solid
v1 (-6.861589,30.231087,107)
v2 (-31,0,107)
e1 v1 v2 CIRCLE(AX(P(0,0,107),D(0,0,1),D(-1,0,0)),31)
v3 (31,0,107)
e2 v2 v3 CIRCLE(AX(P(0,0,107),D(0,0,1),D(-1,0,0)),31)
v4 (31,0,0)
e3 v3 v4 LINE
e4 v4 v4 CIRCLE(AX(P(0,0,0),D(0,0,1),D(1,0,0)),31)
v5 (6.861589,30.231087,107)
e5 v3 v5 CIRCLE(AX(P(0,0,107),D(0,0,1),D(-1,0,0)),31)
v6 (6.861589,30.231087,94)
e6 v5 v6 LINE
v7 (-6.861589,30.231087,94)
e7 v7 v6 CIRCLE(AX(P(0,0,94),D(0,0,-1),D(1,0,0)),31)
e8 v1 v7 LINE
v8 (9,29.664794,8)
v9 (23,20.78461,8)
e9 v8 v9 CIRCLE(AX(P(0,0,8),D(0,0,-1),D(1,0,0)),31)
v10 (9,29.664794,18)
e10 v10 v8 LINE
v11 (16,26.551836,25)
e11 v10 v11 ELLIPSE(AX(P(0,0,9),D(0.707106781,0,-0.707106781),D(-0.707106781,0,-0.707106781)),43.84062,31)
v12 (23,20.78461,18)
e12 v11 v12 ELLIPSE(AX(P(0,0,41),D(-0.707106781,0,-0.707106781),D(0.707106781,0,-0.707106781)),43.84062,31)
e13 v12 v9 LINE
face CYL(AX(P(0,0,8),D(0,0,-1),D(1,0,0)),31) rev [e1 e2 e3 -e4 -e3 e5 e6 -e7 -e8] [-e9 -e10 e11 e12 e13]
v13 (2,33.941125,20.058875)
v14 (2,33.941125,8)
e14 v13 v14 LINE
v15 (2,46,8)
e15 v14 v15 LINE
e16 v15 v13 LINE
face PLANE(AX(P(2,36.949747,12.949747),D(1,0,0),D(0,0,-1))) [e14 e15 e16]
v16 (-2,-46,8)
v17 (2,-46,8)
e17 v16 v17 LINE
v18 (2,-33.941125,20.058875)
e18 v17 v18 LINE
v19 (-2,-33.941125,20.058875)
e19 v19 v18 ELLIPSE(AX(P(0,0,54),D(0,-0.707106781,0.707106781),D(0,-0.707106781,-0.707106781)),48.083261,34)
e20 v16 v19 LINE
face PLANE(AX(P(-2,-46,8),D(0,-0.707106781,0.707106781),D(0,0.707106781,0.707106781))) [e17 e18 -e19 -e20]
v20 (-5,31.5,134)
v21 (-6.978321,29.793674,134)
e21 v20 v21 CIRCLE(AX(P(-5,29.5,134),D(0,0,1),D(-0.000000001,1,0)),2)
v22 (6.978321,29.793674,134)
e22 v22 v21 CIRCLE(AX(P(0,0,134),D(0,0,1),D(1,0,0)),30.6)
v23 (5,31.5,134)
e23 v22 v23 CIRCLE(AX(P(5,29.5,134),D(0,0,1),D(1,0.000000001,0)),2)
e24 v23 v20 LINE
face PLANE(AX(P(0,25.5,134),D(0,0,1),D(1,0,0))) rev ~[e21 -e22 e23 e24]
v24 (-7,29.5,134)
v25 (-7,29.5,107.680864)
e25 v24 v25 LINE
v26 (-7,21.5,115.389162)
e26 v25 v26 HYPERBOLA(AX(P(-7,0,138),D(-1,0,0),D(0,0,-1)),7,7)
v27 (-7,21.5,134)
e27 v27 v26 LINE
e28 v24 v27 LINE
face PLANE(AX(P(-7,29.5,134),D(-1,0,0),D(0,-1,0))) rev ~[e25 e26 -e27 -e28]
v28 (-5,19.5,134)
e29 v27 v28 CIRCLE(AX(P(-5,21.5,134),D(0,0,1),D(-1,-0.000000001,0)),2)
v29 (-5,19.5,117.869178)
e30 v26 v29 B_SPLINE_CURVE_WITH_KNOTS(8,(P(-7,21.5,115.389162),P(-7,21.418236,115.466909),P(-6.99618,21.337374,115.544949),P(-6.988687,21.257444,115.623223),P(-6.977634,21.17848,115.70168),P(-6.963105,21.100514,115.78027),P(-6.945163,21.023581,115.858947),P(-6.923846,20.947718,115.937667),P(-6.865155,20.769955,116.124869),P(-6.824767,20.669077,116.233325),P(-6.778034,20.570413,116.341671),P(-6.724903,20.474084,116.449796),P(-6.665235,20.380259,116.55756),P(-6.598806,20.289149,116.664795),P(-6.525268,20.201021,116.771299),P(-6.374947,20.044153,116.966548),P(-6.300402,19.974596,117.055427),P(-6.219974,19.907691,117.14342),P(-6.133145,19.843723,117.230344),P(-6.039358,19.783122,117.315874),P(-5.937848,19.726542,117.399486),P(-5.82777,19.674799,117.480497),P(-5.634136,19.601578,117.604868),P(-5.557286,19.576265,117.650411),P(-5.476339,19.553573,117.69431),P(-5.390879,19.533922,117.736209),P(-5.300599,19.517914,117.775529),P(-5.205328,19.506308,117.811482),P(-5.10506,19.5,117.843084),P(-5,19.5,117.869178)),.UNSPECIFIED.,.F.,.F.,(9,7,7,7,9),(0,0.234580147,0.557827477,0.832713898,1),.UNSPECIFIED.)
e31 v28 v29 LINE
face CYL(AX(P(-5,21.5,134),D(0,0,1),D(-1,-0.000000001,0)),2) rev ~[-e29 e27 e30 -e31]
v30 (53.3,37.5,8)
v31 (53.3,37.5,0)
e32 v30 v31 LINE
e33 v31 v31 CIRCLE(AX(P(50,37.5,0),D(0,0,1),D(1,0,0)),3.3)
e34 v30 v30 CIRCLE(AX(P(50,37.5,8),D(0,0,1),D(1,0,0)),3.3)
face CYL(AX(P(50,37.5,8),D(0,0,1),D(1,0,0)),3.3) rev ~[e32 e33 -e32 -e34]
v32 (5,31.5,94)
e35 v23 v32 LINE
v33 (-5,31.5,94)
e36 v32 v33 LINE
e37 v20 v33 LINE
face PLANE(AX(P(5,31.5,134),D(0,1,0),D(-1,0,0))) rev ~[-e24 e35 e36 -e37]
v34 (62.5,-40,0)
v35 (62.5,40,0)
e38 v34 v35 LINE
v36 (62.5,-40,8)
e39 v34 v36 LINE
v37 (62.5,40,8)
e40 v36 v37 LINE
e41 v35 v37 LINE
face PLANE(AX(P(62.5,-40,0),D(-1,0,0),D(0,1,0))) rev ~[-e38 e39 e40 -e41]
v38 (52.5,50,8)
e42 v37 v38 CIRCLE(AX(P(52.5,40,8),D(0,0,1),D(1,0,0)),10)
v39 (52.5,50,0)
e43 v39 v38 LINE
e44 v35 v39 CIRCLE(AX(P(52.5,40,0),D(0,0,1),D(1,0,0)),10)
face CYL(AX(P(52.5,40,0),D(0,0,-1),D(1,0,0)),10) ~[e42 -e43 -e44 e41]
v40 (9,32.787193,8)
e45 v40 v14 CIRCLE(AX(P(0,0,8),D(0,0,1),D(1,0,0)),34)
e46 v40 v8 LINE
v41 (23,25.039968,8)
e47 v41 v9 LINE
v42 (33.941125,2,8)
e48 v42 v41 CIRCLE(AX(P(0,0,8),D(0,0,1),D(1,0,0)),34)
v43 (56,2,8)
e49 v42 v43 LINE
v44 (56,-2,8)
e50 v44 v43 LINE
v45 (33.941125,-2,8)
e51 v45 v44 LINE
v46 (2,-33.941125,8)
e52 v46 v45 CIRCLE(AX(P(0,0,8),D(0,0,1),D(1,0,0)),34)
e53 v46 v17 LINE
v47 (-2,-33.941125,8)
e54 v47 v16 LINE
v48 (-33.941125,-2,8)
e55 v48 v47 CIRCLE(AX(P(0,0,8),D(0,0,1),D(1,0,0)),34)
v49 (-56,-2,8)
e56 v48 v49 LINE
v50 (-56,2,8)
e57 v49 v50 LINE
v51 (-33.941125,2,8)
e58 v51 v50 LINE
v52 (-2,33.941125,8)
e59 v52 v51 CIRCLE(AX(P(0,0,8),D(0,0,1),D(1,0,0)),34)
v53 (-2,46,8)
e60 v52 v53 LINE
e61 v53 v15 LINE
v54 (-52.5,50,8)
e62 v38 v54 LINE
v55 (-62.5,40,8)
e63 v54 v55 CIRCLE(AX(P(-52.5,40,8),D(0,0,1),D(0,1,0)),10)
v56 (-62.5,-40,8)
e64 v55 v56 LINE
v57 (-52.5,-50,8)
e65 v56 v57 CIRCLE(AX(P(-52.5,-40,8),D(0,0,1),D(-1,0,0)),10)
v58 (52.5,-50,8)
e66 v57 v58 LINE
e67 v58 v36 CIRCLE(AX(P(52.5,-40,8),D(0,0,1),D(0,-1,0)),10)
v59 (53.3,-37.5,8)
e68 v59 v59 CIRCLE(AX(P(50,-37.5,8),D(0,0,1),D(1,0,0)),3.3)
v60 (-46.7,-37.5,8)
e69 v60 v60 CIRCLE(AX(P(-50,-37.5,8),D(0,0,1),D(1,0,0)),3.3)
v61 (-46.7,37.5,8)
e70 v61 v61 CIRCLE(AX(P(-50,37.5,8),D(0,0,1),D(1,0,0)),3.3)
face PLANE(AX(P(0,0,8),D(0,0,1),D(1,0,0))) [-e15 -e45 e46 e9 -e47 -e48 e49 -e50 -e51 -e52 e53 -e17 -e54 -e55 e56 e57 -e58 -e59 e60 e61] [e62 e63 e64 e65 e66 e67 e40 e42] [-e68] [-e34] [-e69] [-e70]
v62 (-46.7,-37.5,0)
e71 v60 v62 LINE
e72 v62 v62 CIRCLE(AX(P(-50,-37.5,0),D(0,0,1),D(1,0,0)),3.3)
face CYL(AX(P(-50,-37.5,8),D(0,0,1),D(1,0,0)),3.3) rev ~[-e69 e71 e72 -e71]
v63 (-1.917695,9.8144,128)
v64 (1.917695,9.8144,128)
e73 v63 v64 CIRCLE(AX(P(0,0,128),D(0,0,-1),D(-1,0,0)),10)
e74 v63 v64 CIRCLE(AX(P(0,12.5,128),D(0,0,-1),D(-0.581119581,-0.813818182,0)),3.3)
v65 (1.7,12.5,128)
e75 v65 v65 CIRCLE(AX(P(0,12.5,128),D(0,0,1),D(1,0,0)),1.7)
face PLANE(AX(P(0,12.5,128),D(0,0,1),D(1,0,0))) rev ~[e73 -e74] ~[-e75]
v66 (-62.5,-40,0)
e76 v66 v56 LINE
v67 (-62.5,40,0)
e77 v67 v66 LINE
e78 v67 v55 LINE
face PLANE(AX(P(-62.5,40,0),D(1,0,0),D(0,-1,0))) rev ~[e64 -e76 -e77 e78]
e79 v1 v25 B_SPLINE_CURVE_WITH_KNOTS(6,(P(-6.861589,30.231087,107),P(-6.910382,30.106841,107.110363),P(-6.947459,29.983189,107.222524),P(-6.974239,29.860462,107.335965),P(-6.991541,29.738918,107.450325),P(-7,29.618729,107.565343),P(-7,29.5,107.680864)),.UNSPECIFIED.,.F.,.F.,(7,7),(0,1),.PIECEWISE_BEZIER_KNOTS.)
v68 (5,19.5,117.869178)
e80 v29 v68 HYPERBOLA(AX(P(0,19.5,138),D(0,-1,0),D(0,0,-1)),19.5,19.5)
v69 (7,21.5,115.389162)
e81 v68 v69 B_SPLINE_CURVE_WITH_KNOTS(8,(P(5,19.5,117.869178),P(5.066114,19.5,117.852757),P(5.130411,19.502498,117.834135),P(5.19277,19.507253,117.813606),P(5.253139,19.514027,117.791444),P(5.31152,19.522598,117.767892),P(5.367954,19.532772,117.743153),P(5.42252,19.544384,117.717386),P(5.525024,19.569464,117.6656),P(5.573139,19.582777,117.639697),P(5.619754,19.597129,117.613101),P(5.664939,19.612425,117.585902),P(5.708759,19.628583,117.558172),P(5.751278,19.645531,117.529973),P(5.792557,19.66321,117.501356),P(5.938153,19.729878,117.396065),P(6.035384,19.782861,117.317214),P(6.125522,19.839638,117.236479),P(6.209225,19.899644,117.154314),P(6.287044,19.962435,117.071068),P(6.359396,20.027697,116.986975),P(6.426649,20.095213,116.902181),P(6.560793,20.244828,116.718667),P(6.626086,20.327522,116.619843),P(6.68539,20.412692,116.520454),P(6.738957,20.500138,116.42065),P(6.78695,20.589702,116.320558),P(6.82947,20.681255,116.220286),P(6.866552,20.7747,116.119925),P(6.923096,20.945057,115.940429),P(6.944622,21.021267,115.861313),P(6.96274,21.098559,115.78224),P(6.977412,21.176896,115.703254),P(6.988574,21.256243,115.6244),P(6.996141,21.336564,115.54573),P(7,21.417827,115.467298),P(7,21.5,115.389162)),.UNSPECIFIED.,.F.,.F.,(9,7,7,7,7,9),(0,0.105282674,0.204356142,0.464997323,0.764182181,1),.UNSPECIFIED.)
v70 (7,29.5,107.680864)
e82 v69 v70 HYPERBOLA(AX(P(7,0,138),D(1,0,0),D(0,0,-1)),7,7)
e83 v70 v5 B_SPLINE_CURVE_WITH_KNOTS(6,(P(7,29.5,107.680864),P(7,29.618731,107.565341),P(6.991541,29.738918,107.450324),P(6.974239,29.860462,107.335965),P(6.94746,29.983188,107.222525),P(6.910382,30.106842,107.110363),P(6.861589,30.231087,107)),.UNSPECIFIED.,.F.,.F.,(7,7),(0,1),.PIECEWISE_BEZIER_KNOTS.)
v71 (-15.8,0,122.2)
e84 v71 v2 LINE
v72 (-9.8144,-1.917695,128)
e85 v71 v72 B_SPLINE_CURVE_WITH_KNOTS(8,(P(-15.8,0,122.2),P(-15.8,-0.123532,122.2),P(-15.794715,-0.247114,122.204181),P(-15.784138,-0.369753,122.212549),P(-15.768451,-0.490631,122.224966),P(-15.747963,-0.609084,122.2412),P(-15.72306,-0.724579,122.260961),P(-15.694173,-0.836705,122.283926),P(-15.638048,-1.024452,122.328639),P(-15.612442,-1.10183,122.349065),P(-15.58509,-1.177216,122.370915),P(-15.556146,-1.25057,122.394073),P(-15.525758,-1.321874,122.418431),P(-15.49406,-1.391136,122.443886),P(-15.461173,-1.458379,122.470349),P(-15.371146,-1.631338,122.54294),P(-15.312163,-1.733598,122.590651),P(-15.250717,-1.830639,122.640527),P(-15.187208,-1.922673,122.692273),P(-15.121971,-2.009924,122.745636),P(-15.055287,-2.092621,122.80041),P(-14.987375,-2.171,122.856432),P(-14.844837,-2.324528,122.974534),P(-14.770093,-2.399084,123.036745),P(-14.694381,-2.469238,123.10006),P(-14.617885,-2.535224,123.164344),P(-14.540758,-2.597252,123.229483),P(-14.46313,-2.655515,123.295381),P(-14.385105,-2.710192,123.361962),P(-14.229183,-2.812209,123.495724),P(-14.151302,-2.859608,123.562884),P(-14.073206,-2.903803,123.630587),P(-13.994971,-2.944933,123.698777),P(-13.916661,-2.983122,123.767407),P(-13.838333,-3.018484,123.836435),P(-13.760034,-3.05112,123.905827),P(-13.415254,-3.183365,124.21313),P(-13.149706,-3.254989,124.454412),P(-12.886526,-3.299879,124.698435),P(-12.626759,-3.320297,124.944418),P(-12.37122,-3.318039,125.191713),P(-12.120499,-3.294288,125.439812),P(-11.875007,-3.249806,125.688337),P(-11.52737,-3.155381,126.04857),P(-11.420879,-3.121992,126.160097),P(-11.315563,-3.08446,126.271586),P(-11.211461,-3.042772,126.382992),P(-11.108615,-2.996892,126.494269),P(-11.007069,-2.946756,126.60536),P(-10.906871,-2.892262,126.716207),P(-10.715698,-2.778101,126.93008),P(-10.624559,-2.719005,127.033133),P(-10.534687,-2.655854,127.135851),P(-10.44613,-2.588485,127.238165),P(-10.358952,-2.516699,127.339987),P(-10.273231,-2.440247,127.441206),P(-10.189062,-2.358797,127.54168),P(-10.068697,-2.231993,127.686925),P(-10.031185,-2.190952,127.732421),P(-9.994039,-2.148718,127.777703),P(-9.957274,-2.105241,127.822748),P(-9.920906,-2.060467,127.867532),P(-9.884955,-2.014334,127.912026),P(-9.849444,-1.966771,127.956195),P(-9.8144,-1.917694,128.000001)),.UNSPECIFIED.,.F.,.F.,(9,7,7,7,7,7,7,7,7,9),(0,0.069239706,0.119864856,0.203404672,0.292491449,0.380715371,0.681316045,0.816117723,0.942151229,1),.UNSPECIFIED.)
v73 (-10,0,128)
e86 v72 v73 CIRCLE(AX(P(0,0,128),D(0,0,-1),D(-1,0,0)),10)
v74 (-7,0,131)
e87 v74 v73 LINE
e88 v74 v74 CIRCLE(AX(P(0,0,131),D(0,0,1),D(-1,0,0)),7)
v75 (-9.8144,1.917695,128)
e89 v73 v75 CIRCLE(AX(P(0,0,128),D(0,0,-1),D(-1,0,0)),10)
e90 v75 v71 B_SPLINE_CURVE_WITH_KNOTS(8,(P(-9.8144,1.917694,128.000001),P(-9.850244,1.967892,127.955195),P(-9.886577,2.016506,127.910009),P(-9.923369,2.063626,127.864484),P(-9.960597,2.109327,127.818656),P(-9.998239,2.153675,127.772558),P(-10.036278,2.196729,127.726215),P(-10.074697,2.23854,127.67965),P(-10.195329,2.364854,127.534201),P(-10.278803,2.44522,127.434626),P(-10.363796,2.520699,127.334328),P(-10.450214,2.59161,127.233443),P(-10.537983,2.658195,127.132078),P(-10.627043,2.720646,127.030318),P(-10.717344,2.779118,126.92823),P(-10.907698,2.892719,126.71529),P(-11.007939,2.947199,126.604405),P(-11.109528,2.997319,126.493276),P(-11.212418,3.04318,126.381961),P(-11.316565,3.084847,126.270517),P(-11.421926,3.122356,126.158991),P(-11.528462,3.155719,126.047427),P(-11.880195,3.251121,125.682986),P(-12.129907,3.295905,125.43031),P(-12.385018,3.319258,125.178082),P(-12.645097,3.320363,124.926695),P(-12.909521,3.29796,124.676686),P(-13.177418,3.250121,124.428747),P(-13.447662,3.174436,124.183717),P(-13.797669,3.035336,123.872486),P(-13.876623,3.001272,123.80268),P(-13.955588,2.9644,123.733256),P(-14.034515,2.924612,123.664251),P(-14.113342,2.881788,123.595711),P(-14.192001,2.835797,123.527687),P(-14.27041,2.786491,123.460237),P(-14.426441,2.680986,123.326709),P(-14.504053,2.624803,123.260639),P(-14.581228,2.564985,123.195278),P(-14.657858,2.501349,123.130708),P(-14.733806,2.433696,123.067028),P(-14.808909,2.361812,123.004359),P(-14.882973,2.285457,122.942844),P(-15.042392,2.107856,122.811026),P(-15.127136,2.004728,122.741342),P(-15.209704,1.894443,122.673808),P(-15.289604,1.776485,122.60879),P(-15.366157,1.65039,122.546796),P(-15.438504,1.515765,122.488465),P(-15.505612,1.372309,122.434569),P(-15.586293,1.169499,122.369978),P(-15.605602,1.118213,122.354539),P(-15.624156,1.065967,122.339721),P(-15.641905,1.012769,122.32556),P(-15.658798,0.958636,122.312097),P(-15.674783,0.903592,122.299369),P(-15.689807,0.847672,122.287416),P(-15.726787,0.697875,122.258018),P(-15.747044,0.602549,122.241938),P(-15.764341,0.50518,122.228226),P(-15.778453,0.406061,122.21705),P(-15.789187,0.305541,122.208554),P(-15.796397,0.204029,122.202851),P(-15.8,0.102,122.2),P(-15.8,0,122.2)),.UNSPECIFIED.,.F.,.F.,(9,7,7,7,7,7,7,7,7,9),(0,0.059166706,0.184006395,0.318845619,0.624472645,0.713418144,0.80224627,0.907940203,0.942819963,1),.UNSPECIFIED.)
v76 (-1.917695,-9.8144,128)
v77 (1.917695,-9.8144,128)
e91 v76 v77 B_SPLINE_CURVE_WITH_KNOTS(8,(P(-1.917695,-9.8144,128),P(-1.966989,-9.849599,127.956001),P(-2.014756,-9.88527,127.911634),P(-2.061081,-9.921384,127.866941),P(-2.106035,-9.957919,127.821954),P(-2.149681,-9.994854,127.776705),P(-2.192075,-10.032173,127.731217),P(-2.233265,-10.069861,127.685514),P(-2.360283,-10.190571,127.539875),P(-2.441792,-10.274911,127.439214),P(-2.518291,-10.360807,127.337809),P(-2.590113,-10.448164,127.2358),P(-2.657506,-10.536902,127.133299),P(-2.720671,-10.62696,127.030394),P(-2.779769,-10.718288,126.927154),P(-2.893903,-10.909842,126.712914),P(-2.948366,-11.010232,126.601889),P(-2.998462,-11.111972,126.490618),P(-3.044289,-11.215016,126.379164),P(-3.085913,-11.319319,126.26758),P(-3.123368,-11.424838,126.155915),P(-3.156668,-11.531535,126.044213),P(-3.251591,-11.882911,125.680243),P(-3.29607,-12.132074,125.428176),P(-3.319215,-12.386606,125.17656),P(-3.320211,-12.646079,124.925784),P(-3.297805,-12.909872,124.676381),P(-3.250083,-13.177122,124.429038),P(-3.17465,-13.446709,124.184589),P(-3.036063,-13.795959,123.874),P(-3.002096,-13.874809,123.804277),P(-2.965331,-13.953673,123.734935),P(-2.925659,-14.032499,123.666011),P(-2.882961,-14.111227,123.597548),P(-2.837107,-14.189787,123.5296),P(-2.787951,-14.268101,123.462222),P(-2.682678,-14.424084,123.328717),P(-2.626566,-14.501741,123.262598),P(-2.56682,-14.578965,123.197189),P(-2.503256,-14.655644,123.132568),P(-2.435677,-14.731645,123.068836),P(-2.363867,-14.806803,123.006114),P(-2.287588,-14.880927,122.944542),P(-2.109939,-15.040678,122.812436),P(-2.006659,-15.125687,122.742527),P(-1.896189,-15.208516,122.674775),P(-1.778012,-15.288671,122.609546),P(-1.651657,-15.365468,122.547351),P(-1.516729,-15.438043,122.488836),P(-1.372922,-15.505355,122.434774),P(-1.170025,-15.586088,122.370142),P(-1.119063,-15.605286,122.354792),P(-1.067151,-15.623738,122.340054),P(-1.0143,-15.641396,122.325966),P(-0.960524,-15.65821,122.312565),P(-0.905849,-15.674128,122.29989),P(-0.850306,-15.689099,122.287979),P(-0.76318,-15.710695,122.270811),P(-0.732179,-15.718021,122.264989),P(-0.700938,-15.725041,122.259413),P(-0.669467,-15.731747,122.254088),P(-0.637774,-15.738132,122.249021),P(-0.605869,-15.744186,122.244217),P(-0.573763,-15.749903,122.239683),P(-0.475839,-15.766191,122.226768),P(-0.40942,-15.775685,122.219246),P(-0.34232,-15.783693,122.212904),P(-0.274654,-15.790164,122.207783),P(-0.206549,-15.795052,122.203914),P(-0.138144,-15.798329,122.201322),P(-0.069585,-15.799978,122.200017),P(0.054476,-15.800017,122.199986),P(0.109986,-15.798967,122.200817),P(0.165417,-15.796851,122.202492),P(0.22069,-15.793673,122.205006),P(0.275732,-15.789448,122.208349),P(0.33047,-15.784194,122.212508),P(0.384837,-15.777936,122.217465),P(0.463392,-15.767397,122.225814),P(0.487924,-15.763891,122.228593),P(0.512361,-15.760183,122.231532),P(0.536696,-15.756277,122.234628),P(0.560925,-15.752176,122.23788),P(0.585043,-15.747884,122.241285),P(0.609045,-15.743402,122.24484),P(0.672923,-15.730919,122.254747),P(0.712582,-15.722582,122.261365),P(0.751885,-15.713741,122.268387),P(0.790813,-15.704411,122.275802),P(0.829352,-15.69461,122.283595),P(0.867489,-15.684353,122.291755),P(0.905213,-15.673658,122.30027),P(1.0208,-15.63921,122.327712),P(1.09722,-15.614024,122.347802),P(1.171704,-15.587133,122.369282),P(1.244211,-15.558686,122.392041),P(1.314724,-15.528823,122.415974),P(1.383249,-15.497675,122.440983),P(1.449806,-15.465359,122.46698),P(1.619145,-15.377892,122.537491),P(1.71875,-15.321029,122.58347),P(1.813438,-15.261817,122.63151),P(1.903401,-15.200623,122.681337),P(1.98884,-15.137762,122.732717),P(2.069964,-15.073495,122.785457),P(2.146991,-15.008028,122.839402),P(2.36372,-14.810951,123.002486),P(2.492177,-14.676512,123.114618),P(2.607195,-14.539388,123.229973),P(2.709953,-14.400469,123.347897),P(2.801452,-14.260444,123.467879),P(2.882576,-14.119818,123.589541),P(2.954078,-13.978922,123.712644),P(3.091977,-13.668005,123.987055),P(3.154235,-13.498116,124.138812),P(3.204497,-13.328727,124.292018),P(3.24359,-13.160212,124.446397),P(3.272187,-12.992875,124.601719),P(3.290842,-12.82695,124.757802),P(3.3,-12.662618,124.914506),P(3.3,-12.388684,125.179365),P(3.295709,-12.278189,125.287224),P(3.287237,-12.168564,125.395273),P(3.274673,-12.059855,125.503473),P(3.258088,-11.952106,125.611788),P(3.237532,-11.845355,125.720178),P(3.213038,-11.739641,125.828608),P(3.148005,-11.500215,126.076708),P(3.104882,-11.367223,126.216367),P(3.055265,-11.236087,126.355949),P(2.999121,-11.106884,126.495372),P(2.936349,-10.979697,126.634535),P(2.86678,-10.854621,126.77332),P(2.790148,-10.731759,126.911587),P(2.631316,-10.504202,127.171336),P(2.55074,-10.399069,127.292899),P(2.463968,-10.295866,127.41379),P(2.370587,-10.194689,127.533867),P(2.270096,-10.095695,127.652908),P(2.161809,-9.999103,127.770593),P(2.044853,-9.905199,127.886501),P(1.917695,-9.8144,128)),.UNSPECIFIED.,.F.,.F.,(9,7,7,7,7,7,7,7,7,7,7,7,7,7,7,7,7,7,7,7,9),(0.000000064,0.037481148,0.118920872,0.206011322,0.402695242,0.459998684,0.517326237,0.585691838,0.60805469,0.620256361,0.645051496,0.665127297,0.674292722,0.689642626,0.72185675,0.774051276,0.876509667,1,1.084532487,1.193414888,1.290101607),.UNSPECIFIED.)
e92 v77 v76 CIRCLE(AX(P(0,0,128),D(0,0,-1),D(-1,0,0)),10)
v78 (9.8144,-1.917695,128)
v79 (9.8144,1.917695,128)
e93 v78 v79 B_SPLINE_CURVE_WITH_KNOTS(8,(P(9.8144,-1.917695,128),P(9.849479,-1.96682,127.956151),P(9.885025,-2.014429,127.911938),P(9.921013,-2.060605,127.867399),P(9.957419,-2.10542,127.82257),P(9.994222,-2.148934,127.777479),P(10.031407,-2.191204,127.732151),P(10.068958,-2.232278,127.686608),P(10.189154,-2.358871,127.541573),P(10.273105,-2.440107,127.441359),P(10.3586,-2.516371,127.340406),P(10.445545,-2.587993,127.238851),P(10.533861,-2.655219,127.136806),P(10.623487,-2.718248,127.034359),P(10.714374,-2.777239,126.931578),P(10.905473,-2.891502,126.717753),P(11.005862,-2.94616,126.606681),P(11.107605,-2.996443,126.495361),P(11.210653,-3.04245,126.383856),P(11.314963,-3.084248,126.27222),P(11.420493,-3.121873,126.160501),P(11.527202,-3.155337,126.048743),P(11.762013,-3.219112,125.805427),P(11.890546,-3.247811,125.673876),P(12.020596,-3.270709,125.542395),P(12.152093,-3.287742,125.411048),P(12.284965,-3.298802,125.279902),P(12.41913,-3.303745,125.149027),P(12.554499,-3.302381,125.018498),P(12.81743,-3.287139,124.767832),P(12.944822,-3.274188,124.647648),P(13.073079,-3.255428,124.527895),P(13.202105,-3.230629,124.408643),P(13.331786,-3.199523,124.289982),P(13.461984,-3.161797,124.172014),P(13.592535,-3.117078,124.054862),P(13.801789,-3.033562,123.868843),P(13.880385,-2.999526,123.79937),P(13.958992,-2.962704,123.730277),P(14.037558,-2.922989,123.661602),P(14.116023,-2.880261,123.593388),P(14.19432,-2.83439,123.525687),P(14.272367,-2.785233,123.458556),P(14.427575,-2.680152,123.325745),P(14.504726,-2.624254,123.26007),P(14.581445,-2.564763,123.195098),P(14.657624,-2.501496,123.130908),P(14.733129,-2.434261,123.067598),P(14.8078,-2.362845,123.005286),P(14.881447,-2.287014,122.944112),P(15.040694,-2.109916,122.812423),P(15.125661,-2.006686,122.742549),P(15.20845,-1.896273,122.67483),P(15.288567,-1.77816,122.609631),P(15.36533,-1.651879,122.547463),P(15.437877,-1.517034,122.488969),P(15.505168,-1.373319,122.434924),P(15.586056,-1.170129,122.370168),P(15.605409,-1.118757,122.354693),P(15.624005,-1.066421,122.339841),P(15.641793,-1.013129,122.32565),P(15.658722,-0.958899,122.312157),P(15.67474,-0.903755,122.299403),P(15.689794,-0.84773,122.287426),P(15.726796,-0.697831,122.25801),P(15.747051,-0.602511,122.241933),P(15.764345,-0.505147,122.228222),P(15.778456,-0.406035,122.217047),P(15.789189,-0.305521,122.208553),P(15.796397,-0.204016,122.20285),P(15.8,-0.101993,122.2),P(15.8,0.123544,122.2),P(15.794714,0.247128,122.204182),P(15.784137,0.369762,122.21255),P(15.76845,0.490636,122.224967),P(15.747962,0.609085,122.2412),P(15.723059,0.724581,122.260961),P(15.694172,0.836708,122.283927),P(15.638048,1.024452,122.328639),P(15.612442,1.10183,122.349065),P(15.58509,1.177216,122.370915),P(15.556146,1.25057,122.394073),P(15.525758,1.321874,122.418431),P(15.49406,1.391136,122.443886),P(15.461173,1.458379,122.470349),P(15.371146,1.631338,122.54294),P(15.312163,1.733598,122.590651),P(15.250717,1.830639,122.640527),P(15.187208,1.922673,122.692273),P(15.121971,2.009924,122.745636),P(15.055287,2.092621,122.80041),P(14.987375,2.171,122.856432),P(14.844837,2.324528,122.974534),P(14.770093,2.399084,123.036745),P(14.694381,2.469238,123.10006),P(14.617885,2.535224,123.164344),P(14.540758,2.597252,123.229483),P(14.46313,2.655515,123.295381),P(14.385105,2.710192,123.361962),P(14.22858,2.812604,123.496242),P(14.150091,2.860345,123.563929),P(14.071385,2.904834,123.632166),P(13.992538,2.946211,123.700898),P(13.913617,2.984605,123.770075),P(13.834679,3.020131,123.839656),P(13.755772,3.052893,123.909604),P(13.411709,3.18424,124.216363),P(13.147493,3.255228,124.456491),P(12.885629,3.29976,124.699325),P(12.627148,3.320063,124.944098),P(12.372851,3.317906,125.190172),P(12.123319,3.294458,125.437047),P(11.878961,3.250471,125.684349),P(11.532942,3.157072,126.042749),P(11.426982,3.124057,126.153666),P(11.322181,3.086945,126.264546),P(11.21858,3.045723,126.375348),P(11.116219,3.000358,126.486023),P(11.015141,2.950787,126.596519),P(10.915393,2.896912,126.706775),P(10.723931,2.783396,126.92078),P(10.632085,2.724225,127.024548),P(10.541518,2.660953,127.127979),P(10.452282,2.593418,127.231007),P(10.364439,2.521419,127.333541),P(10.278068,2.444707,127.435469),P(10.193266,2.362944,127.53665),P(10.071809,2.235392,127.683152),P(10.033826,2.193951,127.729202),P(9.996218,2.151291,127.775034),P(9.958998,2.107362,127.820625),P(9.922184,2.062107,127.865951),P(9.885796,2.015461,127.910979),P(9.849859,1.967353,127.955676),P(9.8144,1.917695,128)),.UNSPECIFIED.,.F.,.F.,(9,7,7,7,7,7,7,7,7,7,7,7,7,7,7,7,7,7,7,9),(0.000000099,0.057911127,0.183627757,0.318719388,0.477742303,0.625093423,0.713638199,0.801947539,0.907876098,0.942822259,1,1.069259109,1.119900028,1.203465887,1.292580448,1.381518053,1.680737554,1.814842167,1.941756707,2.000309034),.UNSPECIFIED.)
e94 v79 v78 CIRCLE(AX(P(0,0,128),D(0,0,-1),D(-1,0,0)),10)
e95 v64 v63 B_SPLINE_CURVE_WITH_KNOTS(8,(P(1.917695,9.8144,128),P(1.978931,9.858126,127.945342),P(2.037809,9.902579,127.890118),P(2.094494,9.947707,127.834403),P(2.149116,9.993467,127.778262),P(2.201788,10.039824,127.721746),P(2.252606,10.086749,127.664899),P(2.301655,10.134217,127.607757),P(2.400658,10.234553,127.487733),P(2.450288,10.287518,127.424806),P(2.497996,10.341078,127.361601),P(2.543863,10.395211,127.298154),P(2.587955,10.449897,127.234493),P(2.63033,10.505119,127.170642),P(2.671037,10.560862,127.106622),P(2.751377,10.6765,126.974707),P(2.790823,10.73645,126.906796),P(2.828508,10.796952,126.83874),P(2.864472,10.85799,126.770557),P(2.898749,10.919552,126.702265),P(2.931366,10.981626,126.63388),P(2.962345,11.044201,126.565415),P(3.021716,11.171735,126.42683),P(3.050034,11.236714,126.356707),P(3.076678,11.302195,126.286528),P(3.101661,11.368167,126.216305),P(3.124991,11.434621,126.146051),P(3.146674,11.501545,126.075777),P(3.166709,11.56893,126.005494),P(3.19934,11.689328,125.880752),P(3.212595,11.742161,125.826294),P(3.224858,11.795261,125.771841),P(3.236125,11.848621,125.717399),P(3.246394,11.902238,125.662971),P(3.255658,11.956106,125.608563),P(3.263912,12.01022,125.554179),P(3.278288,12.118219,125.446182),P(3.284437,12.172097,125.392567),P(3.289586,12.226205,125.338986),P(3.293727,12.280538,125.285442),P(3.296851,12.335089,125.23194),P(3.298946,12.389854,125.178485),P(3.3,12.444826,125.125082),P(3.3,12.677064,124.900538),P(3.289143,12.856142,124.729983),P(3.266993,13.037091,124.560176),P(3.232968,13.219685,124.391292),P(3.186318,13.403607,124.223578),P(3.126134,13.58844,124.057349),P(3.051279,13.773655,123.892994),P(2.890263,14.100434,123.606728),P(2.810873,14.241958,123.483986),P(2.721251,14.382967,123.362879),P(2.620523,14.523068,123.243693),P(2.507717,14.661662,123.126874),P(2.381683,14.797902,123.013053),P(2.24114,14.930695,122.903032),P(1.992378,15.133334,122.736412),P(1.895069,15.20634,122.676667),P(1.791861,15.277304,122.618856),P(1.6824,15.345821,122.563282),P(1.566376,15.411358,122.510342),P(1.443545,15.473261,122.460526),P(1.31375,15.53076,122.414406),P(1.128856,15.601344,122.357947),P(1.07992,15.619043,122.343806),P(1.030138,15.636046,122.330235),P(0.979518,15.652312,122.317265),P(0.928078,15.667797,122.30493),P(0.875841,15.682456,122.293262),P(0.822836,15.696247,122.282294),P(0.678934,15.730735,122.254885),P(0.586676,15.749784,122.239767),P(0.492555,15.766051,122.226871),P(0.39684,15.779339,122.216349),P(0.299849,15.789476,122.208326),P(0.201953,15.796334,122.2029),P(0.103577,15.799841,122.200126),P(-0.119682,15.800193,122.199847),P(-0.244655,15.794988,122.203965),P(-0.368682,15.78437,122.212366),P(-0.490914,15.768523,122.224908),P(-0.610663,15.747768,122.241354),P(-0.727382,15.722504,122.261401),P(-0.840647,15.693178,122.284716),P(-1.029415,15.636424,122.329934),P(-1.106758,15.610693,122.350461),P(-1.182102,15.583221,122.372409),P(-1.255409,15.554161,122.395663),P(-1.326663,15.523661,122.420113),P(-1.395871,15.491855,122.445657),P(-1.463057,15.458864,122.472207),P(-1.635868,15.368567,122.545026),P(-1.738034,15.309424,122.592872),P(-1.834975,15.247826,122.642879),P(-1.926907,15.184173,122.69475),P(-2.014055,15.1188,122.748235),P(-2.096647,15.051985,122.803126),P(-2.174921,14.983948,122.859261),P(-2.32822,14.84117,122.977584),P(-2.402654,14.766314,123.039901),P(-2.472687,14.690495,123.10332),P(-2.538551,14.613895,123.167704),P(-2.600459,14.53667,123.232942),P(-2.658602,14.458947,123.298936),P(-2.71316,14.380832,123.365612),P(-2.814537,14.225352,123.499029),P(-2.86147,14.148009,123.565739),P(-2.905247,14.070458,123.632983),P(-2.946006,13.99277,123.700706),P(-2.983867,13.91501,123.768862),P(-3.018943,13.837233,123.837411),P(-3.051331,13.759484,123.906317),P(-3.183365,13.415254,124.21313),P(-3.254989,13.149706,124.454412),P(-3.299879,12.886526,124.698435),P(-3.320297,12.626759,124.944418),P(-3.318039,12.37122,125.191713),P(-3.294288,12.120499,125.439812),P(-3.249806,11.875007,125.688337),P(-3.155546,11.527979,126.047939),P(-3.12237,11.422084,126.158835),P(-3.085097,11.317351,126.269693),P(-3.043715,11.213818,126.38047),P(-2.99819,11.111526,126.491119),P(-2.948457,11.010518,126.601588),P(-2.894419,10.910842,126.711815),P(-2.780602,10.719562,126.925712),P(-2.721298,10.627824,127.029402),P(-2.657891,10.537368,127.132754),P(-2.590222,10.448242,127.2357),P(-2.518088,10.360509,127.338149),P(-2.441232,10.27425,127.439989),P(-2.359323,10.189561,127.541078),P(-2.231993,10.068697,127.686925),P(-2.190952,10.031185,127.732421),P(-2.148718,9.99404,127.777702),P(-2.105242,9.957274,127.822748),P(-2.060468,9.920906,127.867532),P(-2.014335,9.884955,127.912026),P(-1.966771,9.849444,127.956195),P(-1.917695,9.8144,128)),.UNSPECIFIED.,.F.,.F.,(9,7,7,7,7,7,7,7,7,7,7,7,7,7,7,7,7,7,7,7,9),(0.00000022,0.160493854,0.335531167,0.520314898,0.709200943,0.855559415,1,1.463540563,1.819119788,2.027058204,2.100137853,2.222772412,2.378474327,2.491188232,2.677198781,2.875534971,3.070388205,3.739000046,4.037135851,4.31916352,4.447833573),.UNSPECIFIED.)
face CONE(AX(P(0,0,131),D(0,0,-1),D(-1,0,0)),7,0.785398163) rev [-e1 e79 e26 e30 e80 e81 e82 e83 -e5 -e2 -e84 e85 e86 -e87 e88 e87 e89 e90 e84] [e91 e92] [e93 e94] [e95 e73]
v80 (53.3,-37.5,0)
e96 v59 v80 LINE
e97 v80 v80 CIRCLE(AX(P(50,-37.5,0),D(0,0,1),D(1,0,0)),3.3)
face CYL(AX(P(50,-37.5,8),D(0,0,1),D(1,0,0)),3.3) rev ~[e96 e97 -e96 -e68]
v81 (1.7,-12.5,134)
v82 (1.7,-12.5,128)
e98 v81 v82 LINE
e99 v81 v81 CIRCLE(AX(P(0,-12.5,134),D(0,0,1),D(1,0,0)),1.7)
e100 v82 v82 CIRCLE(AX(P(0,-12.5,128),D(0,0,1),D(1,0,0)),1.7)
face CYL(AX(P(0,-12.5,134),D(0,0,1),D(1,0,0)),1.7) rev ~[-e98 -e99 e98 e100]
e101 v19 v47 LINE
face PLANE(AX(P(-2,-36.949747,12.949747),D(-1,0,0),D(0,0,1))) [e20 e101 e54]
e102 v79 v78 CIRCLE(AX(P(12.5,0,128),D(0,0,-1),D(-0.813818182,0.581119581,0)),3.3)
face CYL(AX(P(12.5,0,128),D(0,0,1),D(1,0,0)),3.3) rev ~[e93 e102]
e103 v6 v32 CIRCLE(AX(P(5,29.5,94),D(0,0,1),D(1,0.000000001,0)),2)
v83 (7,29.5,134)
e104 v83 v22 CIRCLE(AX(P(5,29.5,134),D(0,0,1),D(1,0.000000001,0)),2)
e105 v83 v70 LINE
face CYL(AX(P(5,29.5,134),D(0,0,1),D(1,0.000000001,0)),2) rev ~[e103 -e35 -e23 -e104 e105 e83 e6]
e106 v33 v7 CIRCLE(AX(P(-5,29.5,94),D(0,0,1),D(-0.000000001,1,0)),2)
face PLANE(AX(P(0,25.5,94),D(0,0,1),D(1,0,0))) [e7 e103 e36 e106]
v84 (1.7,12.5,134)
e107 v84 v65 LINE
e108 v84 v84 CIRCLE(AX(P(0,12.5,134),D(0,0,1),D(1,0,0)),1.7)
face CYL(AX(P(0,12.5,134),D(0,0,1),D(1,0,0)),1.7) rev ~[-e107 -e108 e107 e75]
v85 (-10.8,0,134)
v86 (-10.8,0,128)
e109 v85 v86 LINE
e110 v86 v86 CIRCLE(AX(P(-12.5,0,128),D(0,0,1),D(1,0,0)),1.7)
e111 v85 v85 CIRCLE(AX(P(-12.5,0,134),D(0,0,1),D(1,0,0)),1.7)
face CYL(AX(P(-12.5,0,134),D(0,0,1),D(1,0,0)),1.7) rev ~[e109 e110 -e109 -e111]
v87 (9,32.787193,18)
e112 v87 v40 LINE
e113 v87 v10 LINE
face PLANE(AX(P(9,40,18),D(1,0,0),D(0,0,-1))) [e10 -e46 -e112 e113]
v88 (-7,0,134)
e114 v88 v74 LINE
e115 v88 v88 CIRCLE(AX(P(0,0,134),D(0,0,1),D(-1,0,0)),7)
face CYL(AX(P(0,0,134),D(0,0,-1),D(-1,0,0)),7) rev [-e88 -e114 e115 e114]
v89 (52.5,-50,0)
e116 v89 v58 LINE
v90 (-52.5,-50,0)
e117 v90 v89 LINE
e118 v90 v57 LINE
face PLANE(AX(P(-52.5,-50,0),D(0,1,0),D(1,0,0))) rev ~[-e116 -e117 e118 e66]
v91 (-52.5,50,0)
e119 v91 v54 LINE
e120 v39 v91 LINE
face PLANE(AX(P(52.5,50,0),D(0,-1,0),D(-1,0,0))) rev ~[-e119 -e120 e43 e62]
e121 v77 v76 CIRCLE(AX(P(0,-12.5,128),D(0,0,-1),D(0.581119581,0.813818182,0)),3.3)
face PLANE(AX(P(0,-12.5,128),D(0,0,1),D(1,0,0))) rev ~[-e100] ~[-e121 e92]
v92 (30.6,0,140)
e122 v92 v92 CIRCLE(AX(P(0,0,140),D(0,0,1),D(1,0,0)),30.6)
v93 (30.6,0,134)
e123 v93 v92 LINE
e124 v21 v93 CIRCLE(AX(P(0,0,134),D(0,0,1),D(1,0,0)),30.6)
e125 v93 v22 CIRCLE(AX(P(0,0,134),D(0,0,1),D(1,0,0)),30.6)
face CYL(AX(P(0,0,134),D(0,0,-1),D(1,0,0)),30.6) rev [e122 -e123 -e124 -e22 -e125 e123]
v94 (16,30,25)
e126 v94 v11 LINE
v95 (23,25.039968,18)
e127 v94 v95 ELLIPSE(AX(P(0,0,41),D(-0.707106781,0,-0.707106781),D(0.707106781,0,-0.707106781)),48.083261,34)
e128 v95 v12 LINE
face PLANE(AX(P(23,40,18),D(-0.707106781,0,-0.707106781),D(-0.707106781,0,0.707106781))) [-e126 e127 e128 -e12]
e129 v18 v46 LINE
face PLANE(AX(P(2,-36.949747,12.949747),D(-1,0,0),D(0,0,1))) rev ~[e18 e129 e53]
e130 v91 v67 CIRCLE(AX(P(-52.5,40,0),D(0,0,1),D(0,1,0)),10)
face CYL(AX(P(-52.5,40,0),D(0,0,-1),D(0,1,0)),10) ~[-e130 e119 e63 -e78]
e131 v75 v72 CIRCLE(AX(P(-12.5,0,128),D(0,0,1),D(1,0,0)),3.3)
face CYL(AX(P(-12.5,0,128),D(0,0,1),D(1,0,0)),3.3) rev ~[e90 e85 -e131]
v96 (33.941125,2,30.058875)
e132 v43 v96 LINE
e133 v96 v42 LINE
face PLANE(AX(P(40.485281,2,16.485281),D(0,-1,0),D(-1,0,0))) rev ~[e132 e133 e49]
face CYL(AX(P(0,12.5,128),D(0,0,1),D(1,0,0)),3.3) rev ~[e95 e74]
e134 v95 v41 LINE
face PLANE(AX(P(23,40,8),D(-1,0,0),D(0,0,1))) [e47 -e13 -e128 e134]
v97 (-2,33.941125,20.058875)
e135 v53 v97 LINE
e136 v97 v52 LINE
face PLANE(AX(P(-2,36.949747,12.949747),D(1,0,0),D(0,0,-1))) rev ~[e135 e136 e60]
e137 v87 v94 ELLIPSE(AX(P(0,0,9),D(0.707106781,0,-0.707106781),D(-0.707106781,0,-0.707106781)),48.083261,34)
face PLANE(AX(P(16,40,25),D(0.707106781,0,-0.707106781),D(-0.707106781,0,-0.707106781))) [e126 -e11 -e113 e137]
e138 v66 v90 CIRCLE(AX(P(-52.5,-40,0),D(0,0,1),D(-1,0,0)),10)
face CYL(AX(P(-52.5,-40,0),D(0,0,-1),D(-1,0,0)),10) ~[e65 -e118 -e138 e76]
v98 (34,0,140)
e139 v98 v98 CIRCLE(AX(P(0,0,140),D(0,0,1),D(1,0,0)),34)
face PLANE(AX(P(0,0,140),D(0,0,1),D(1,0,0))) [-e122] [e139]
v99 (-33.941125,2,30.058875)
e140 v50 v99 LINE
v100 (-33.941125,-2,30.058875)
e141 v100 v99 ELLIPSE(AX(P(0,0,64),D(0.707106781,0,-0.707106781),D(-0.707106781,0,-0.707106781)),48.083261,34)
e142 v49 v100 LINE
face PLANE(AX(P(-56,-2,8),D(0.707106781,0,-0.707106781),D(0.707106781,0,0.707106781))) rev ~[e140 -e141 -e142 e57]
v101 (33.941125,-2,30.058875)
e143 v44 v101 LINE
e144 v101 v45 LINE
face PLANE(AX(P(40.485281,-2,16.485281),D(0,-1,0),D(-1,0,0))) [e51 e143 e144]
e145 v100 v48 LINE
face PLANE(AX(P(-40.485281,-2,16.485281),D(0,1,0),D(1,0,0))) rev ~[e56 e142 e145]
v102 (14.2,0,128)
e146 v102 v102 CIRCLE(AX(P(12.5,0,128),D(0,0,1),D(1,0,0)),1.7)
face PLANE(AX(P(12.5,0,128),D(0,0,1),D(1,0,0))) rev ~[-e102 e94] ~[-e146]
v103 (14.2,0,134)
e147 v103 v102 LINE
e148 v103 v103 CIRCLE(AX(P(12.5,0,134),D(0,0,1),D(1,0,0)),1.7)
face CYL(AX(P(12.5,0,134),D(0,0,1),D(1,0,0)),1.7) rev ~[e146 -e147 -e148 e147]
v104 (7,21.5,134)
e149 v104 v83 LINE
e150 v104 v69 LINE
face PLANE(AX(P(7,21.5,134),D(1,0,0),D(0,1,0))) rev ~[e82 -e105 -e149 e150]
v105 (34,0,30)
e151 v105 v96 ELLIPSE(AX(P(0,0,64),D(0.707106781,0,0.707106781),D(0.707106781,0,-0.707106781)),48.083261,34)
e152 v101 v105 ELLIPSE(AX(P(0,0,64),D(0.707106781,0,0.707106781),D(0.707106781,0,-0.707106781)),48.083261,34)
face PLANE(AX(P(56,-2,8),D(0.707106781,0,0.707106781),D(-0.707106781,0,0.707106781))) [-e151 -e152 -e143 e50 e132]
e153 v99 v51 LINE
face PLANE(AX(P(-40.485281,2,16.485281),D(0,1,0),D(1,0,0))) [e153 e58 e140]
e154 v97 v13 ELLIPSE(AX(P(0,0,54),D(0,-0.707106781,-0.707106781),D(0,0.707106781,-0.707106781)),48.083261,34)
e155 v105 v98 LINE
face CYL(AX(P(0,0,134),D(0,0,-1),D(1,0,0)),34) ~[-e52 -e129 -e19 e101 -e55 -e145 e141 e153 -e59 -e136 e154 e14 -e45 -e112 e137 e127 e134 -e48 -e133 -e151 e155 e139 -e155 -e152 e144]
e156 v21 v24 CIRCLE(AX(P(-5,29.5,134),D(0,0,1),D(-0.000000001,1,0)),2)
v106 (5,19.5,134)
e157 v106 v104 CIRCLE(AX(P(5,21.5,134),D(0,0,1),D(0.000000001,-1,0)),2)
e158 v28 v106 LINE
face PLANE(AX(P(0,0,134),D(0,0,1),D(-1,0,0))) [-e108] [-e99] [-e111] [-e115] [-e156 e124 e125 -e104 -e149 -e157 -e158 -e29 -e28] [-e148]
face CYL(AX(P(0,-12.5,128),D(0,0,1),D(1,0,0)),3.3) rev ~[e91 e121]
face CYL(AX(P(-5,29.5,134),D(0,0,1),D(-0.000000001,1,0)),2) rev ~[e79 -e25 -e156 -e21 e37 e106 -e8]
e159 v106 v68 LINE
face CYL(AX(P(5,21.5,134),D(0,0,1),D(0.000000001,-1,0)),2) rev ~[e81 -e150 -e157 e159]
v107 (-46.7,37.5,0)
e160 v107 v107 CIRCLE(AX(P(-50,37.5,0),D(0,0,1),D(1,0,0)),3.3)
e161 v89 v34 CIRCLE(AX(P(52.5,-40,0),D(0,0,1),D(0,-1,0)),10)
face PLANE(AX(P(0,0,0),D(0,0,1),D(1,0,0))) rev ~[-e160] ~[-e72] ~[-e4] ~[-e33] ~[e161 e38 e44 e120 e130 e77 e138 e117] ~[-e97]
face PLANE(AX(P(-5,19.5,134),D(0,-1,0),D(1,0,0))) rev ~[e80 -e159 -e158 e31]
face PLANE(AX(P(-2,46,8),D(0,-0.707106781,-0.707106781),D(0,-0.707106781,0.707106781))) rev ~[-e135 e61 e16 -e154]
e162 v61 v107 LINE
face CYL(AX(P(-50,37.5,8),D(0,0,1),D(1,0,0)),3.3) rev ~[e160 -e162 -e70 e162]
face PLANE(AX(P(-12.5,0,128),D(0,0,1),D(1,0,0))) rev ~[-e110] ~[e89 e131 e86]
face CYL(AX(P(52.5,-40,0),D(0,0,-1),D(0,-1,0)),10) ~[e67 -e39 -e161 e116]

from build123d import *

# Parameters (mm, degrees)
SKETCH_1_R                                     = 31
FOOT_125X100_R10_T8_OPEN_D62_DEPTH             = 8
SKETCH_2_R                                     = 3.3
M6_GRID25_100X75_DEPTH                         = 8
SKETCH_3_R                                     = 34
SKETCH_3_R_2                                   = 31
HOLLOW_COLUMN_OD68_ID62_TOZ134_DEPTH           = 126
SKETCH_5_R                                     = 34
SKETCH_5_R_2                                   = 30.6
BOTTOM_CAP_WRAP_OD68_ID61P2_H6_DEPTH           = 6
STRAIGHT_TRIANGULAR_RIB_T4_NO_FILLETS_X_DEPTH  = 4
STRAIGHT_TRIANGULAR_RIB_T4_NO_FILLETS_Y_DEPTH  = 4
SKETCH_8_R                                     = 1.7
STATOR_4XM3_PCD25_THROUGH_WEB_DEPTH            = 6
SKETCH_9_R                                     = 3.3
UNDERSIDE_BOLT_AND_DRIVER_WELLS_D6P6_DEPTH     = 24
INNER_WALL_WIRE_GROOVE_W14_R2_DEPTH40_NO_DEPTH = 40
BOTTOM_REAR_OFFSET_WIRE_EXIT_14X10_45DEG_DEPTH = 25


with BuildPart() as part:
    # 草图1 → Foot_125x100_R10_T8_open_D62 (new body)
    with BuildSketch(Plane.XY):
        with BuildLine():
            Line((-52.5, -50), (52.5, -50))
            ThreePointArc((52.5, -50), (59.571067812, -47.071067812), (62.5, -40))
            Line((62.5, -40), (62.5, 40))
            ThreePointArc((62.5, 40), (59.571067812, 47.071067812), (52.5, 50))
            Line((52.5, 50), (-52.5, 50))
            ThreePointArc((-52.5, 50), (-59.571067812, 47.071067812), (-62.5, 40))
            Line((-62.5, 40), (-62.5, -40))
            ThreePointArc((-62.5, -40), (-59.571067812, -47.071067812), (-52.5, -50))
        make_face()
        Circle(SKETCH_1_R, mode=Mode.SUBTRACT)
    extrude(amount=FOOT_125X100_R10_T8_OPEN_D62_DEPTH)

    # 草图2 → M6_grid25_100x75 (cut)
    with BuildSketch(Plane.XY.offset(8)):
        with Locations((-50, -37.5)):
            Circle(SKETCH_2_R)
        with Locations((-50, 37.5)):
            Circle(SKETCH_2_R)
        with Locations((50, -37.5)):
            Circle(SKETCH_2_R)
        with Locations((50, 37.5)):
            Circle(SKETCH_2_R)
    extrude(amount=-M6_GRID25_100X75_DEPTH, mode=Mode.SUBTRACT)

    # 草图3 → Hollow_column_OD68_ID62_toZ134 (add)
    with BuildSketch(Plane.XY.offset(8)):
        Circle(SKETCH_3_R)
        Circle(SKETCH_3_R_2, mode=Mode.SUBTRACT)
    extrude(amount=HOLLOW_COLUMN_OD68_ID62_TOZ134_DEPTH)

    # 草图4 → Integral_motor_seat_45deg_internal_closure (revolve)
    with BuildSketch(Plane(origin=(0, 0, 0), x_dir=(1, 0, 0), z_dir=(0, 1, 0)), mode=Mode.PRIVATE) as integral_motor_seat_45deg_internal_closu_sk:
        Polygon((7, -131), (31, -107), (34, -107), (34, -134), (7, -134), align=None)
    revolve(integral_motor_seat_45deg_internal_closu_sk.sketch.rotate(Axis((0, 0, 0), (0, 0, 1)), 180), axis=Axis((0, 0, 0), (0, 0, 1)))

    # 草图5 → Bottom_cap_wrap_OD68_ID61p2_H6 (add)
    with BuildSketch(Plane.XY.offset(134)):
        Circle(SKETCH_5_R)
        Circle(SKETCH_5_R_2, mode=Mode.SUBTRACT)
    extrude(amount=BOTTOM_CAP_WRAP_OD68_ID61P2_H6_DEPTH)

    # 草图6 → Straight_triangular_rib_T4_no_fillets_x (add)
    with BuildSketch(Plane(origin=(-2, 0, 0), x_dir=(0, 0, -1), z_dir=(1, 0, 0))):
        Polygon((-8, -32), (-8, -46), (-22, -32), align=None)
        Polygon((-8, 32), (-8, 46), (-22, 32), align=None)
    extrude(amount=STRAIGHT_TRIANGULAR_RIB_T4_NO_FILLETS_X_DEPTH)

    # 草图7 → Straight_triangular_rib_T4_no_fillets_y (add)
    with BuildSketch(Plane(origin=(0, -2, 0), x_dir=(1, 0, 0), z_dir=(0, 1, 0))):
        Polygon((-32, -8), (-56, -8), (-32, -32), align=None)
        Polygon((32, -8), (56, -8), (32, -32), align=None)
    extrude(amount=STRAIGHT_TRIANGULAR_RIB_T4_NO_FILLETS_Y_DEPTH)

    # 草图8 → Stator_4xM3_PCD25_through_web (cut)
    with BuildSketch(Plane.XY.offset(134)):
        with Locations((12.5, 0)):
            Circle(SKETCH_8_R)
        with Locations((0, 12.5)):
            Circle(SKETCH_8_R)
        with Locations((-12.5, 0)):
            Circle(SKETCH_8_R)
        with Locations((0, -12.5)):
            Circle(SKETCH_8_R)
    extrude(amount=-STATOR_4XM3_PCD25_THROUGH_WEB_DEPTH, mode=Mode.SUBTRACT)

    # 草图9 → Underside_bolt_and_driver_wells_D6p6 (cut)
    with BuildSketch(Plane.XY.offset(128)):
        with Locations((12.5, 0)):
            Circle(SKETCH_9_R)
        with Locations((0, 12.5)):
            Circle(SKETCH_9_R)
        with Locations((-12.5, 0)):
            Circle(SKETCH_9_R)
        with Locations((0, -12.5)):
            Circle(SKETCH_9_R)
    extrude(amount=-UNDERSIDE_BOLT_AND_DRIVER_WELLS_D6P6_DEPTH, mode=Mode.SUBTRACT)

    # 草图10 → Inner_wall_wire_groove_W14_R2_depth40_no_external_bulge (cut)
    with BuildSketch(Plane.XY.offset(134)):
        with BuildLine():
            Line((-5, 19.5), (5, 19.5))
            ThreePointArc((5, 19.5), (6.414213562, 20.085786438), (7, 21.5))
            Line((7, 21.5), (7, 29.5))
            ThreePointArc((7, 29.5), (6.414213562, 30.914213562), (5, 31.5))
            Line((5, 31.5), (-5, 31.5))
            ThreePointArc((-5, 31.5), (-6.414213562, 30.914213562), (-7, 29.5))
            Line((-7, 29.5), (-7, 21.5))
            ThreePointArc((-7, 21.5), (-6.414213562, 20.085786438), (-5, 19.5))
        make_face()
    extrude(amount=-INNER_WALL_WIRE_GROOVE_W14_R2_DEPTH40_NO_DEPTH, mode=Mode.SUBTRACT)

    # 草图11 → Bottom_rear_offset_wire_exit_14x10_45deg_roof (cut)
    with BuildSketch(Plane(origin=(0, 40, 0), x_dir=(1, 0, 0), z_dir=(0, 1, 0))):
        Polygon((9, -8), (23, -8), (23, -18), (16, -25), (9, -18), align=None)
    extrude(amount=-BOTTOM_REAR_OFFSET_WIRE_EXIT_14X10_45DEG_DEPTH, mode=Mode.SUBTRACT)


solid = part.part
